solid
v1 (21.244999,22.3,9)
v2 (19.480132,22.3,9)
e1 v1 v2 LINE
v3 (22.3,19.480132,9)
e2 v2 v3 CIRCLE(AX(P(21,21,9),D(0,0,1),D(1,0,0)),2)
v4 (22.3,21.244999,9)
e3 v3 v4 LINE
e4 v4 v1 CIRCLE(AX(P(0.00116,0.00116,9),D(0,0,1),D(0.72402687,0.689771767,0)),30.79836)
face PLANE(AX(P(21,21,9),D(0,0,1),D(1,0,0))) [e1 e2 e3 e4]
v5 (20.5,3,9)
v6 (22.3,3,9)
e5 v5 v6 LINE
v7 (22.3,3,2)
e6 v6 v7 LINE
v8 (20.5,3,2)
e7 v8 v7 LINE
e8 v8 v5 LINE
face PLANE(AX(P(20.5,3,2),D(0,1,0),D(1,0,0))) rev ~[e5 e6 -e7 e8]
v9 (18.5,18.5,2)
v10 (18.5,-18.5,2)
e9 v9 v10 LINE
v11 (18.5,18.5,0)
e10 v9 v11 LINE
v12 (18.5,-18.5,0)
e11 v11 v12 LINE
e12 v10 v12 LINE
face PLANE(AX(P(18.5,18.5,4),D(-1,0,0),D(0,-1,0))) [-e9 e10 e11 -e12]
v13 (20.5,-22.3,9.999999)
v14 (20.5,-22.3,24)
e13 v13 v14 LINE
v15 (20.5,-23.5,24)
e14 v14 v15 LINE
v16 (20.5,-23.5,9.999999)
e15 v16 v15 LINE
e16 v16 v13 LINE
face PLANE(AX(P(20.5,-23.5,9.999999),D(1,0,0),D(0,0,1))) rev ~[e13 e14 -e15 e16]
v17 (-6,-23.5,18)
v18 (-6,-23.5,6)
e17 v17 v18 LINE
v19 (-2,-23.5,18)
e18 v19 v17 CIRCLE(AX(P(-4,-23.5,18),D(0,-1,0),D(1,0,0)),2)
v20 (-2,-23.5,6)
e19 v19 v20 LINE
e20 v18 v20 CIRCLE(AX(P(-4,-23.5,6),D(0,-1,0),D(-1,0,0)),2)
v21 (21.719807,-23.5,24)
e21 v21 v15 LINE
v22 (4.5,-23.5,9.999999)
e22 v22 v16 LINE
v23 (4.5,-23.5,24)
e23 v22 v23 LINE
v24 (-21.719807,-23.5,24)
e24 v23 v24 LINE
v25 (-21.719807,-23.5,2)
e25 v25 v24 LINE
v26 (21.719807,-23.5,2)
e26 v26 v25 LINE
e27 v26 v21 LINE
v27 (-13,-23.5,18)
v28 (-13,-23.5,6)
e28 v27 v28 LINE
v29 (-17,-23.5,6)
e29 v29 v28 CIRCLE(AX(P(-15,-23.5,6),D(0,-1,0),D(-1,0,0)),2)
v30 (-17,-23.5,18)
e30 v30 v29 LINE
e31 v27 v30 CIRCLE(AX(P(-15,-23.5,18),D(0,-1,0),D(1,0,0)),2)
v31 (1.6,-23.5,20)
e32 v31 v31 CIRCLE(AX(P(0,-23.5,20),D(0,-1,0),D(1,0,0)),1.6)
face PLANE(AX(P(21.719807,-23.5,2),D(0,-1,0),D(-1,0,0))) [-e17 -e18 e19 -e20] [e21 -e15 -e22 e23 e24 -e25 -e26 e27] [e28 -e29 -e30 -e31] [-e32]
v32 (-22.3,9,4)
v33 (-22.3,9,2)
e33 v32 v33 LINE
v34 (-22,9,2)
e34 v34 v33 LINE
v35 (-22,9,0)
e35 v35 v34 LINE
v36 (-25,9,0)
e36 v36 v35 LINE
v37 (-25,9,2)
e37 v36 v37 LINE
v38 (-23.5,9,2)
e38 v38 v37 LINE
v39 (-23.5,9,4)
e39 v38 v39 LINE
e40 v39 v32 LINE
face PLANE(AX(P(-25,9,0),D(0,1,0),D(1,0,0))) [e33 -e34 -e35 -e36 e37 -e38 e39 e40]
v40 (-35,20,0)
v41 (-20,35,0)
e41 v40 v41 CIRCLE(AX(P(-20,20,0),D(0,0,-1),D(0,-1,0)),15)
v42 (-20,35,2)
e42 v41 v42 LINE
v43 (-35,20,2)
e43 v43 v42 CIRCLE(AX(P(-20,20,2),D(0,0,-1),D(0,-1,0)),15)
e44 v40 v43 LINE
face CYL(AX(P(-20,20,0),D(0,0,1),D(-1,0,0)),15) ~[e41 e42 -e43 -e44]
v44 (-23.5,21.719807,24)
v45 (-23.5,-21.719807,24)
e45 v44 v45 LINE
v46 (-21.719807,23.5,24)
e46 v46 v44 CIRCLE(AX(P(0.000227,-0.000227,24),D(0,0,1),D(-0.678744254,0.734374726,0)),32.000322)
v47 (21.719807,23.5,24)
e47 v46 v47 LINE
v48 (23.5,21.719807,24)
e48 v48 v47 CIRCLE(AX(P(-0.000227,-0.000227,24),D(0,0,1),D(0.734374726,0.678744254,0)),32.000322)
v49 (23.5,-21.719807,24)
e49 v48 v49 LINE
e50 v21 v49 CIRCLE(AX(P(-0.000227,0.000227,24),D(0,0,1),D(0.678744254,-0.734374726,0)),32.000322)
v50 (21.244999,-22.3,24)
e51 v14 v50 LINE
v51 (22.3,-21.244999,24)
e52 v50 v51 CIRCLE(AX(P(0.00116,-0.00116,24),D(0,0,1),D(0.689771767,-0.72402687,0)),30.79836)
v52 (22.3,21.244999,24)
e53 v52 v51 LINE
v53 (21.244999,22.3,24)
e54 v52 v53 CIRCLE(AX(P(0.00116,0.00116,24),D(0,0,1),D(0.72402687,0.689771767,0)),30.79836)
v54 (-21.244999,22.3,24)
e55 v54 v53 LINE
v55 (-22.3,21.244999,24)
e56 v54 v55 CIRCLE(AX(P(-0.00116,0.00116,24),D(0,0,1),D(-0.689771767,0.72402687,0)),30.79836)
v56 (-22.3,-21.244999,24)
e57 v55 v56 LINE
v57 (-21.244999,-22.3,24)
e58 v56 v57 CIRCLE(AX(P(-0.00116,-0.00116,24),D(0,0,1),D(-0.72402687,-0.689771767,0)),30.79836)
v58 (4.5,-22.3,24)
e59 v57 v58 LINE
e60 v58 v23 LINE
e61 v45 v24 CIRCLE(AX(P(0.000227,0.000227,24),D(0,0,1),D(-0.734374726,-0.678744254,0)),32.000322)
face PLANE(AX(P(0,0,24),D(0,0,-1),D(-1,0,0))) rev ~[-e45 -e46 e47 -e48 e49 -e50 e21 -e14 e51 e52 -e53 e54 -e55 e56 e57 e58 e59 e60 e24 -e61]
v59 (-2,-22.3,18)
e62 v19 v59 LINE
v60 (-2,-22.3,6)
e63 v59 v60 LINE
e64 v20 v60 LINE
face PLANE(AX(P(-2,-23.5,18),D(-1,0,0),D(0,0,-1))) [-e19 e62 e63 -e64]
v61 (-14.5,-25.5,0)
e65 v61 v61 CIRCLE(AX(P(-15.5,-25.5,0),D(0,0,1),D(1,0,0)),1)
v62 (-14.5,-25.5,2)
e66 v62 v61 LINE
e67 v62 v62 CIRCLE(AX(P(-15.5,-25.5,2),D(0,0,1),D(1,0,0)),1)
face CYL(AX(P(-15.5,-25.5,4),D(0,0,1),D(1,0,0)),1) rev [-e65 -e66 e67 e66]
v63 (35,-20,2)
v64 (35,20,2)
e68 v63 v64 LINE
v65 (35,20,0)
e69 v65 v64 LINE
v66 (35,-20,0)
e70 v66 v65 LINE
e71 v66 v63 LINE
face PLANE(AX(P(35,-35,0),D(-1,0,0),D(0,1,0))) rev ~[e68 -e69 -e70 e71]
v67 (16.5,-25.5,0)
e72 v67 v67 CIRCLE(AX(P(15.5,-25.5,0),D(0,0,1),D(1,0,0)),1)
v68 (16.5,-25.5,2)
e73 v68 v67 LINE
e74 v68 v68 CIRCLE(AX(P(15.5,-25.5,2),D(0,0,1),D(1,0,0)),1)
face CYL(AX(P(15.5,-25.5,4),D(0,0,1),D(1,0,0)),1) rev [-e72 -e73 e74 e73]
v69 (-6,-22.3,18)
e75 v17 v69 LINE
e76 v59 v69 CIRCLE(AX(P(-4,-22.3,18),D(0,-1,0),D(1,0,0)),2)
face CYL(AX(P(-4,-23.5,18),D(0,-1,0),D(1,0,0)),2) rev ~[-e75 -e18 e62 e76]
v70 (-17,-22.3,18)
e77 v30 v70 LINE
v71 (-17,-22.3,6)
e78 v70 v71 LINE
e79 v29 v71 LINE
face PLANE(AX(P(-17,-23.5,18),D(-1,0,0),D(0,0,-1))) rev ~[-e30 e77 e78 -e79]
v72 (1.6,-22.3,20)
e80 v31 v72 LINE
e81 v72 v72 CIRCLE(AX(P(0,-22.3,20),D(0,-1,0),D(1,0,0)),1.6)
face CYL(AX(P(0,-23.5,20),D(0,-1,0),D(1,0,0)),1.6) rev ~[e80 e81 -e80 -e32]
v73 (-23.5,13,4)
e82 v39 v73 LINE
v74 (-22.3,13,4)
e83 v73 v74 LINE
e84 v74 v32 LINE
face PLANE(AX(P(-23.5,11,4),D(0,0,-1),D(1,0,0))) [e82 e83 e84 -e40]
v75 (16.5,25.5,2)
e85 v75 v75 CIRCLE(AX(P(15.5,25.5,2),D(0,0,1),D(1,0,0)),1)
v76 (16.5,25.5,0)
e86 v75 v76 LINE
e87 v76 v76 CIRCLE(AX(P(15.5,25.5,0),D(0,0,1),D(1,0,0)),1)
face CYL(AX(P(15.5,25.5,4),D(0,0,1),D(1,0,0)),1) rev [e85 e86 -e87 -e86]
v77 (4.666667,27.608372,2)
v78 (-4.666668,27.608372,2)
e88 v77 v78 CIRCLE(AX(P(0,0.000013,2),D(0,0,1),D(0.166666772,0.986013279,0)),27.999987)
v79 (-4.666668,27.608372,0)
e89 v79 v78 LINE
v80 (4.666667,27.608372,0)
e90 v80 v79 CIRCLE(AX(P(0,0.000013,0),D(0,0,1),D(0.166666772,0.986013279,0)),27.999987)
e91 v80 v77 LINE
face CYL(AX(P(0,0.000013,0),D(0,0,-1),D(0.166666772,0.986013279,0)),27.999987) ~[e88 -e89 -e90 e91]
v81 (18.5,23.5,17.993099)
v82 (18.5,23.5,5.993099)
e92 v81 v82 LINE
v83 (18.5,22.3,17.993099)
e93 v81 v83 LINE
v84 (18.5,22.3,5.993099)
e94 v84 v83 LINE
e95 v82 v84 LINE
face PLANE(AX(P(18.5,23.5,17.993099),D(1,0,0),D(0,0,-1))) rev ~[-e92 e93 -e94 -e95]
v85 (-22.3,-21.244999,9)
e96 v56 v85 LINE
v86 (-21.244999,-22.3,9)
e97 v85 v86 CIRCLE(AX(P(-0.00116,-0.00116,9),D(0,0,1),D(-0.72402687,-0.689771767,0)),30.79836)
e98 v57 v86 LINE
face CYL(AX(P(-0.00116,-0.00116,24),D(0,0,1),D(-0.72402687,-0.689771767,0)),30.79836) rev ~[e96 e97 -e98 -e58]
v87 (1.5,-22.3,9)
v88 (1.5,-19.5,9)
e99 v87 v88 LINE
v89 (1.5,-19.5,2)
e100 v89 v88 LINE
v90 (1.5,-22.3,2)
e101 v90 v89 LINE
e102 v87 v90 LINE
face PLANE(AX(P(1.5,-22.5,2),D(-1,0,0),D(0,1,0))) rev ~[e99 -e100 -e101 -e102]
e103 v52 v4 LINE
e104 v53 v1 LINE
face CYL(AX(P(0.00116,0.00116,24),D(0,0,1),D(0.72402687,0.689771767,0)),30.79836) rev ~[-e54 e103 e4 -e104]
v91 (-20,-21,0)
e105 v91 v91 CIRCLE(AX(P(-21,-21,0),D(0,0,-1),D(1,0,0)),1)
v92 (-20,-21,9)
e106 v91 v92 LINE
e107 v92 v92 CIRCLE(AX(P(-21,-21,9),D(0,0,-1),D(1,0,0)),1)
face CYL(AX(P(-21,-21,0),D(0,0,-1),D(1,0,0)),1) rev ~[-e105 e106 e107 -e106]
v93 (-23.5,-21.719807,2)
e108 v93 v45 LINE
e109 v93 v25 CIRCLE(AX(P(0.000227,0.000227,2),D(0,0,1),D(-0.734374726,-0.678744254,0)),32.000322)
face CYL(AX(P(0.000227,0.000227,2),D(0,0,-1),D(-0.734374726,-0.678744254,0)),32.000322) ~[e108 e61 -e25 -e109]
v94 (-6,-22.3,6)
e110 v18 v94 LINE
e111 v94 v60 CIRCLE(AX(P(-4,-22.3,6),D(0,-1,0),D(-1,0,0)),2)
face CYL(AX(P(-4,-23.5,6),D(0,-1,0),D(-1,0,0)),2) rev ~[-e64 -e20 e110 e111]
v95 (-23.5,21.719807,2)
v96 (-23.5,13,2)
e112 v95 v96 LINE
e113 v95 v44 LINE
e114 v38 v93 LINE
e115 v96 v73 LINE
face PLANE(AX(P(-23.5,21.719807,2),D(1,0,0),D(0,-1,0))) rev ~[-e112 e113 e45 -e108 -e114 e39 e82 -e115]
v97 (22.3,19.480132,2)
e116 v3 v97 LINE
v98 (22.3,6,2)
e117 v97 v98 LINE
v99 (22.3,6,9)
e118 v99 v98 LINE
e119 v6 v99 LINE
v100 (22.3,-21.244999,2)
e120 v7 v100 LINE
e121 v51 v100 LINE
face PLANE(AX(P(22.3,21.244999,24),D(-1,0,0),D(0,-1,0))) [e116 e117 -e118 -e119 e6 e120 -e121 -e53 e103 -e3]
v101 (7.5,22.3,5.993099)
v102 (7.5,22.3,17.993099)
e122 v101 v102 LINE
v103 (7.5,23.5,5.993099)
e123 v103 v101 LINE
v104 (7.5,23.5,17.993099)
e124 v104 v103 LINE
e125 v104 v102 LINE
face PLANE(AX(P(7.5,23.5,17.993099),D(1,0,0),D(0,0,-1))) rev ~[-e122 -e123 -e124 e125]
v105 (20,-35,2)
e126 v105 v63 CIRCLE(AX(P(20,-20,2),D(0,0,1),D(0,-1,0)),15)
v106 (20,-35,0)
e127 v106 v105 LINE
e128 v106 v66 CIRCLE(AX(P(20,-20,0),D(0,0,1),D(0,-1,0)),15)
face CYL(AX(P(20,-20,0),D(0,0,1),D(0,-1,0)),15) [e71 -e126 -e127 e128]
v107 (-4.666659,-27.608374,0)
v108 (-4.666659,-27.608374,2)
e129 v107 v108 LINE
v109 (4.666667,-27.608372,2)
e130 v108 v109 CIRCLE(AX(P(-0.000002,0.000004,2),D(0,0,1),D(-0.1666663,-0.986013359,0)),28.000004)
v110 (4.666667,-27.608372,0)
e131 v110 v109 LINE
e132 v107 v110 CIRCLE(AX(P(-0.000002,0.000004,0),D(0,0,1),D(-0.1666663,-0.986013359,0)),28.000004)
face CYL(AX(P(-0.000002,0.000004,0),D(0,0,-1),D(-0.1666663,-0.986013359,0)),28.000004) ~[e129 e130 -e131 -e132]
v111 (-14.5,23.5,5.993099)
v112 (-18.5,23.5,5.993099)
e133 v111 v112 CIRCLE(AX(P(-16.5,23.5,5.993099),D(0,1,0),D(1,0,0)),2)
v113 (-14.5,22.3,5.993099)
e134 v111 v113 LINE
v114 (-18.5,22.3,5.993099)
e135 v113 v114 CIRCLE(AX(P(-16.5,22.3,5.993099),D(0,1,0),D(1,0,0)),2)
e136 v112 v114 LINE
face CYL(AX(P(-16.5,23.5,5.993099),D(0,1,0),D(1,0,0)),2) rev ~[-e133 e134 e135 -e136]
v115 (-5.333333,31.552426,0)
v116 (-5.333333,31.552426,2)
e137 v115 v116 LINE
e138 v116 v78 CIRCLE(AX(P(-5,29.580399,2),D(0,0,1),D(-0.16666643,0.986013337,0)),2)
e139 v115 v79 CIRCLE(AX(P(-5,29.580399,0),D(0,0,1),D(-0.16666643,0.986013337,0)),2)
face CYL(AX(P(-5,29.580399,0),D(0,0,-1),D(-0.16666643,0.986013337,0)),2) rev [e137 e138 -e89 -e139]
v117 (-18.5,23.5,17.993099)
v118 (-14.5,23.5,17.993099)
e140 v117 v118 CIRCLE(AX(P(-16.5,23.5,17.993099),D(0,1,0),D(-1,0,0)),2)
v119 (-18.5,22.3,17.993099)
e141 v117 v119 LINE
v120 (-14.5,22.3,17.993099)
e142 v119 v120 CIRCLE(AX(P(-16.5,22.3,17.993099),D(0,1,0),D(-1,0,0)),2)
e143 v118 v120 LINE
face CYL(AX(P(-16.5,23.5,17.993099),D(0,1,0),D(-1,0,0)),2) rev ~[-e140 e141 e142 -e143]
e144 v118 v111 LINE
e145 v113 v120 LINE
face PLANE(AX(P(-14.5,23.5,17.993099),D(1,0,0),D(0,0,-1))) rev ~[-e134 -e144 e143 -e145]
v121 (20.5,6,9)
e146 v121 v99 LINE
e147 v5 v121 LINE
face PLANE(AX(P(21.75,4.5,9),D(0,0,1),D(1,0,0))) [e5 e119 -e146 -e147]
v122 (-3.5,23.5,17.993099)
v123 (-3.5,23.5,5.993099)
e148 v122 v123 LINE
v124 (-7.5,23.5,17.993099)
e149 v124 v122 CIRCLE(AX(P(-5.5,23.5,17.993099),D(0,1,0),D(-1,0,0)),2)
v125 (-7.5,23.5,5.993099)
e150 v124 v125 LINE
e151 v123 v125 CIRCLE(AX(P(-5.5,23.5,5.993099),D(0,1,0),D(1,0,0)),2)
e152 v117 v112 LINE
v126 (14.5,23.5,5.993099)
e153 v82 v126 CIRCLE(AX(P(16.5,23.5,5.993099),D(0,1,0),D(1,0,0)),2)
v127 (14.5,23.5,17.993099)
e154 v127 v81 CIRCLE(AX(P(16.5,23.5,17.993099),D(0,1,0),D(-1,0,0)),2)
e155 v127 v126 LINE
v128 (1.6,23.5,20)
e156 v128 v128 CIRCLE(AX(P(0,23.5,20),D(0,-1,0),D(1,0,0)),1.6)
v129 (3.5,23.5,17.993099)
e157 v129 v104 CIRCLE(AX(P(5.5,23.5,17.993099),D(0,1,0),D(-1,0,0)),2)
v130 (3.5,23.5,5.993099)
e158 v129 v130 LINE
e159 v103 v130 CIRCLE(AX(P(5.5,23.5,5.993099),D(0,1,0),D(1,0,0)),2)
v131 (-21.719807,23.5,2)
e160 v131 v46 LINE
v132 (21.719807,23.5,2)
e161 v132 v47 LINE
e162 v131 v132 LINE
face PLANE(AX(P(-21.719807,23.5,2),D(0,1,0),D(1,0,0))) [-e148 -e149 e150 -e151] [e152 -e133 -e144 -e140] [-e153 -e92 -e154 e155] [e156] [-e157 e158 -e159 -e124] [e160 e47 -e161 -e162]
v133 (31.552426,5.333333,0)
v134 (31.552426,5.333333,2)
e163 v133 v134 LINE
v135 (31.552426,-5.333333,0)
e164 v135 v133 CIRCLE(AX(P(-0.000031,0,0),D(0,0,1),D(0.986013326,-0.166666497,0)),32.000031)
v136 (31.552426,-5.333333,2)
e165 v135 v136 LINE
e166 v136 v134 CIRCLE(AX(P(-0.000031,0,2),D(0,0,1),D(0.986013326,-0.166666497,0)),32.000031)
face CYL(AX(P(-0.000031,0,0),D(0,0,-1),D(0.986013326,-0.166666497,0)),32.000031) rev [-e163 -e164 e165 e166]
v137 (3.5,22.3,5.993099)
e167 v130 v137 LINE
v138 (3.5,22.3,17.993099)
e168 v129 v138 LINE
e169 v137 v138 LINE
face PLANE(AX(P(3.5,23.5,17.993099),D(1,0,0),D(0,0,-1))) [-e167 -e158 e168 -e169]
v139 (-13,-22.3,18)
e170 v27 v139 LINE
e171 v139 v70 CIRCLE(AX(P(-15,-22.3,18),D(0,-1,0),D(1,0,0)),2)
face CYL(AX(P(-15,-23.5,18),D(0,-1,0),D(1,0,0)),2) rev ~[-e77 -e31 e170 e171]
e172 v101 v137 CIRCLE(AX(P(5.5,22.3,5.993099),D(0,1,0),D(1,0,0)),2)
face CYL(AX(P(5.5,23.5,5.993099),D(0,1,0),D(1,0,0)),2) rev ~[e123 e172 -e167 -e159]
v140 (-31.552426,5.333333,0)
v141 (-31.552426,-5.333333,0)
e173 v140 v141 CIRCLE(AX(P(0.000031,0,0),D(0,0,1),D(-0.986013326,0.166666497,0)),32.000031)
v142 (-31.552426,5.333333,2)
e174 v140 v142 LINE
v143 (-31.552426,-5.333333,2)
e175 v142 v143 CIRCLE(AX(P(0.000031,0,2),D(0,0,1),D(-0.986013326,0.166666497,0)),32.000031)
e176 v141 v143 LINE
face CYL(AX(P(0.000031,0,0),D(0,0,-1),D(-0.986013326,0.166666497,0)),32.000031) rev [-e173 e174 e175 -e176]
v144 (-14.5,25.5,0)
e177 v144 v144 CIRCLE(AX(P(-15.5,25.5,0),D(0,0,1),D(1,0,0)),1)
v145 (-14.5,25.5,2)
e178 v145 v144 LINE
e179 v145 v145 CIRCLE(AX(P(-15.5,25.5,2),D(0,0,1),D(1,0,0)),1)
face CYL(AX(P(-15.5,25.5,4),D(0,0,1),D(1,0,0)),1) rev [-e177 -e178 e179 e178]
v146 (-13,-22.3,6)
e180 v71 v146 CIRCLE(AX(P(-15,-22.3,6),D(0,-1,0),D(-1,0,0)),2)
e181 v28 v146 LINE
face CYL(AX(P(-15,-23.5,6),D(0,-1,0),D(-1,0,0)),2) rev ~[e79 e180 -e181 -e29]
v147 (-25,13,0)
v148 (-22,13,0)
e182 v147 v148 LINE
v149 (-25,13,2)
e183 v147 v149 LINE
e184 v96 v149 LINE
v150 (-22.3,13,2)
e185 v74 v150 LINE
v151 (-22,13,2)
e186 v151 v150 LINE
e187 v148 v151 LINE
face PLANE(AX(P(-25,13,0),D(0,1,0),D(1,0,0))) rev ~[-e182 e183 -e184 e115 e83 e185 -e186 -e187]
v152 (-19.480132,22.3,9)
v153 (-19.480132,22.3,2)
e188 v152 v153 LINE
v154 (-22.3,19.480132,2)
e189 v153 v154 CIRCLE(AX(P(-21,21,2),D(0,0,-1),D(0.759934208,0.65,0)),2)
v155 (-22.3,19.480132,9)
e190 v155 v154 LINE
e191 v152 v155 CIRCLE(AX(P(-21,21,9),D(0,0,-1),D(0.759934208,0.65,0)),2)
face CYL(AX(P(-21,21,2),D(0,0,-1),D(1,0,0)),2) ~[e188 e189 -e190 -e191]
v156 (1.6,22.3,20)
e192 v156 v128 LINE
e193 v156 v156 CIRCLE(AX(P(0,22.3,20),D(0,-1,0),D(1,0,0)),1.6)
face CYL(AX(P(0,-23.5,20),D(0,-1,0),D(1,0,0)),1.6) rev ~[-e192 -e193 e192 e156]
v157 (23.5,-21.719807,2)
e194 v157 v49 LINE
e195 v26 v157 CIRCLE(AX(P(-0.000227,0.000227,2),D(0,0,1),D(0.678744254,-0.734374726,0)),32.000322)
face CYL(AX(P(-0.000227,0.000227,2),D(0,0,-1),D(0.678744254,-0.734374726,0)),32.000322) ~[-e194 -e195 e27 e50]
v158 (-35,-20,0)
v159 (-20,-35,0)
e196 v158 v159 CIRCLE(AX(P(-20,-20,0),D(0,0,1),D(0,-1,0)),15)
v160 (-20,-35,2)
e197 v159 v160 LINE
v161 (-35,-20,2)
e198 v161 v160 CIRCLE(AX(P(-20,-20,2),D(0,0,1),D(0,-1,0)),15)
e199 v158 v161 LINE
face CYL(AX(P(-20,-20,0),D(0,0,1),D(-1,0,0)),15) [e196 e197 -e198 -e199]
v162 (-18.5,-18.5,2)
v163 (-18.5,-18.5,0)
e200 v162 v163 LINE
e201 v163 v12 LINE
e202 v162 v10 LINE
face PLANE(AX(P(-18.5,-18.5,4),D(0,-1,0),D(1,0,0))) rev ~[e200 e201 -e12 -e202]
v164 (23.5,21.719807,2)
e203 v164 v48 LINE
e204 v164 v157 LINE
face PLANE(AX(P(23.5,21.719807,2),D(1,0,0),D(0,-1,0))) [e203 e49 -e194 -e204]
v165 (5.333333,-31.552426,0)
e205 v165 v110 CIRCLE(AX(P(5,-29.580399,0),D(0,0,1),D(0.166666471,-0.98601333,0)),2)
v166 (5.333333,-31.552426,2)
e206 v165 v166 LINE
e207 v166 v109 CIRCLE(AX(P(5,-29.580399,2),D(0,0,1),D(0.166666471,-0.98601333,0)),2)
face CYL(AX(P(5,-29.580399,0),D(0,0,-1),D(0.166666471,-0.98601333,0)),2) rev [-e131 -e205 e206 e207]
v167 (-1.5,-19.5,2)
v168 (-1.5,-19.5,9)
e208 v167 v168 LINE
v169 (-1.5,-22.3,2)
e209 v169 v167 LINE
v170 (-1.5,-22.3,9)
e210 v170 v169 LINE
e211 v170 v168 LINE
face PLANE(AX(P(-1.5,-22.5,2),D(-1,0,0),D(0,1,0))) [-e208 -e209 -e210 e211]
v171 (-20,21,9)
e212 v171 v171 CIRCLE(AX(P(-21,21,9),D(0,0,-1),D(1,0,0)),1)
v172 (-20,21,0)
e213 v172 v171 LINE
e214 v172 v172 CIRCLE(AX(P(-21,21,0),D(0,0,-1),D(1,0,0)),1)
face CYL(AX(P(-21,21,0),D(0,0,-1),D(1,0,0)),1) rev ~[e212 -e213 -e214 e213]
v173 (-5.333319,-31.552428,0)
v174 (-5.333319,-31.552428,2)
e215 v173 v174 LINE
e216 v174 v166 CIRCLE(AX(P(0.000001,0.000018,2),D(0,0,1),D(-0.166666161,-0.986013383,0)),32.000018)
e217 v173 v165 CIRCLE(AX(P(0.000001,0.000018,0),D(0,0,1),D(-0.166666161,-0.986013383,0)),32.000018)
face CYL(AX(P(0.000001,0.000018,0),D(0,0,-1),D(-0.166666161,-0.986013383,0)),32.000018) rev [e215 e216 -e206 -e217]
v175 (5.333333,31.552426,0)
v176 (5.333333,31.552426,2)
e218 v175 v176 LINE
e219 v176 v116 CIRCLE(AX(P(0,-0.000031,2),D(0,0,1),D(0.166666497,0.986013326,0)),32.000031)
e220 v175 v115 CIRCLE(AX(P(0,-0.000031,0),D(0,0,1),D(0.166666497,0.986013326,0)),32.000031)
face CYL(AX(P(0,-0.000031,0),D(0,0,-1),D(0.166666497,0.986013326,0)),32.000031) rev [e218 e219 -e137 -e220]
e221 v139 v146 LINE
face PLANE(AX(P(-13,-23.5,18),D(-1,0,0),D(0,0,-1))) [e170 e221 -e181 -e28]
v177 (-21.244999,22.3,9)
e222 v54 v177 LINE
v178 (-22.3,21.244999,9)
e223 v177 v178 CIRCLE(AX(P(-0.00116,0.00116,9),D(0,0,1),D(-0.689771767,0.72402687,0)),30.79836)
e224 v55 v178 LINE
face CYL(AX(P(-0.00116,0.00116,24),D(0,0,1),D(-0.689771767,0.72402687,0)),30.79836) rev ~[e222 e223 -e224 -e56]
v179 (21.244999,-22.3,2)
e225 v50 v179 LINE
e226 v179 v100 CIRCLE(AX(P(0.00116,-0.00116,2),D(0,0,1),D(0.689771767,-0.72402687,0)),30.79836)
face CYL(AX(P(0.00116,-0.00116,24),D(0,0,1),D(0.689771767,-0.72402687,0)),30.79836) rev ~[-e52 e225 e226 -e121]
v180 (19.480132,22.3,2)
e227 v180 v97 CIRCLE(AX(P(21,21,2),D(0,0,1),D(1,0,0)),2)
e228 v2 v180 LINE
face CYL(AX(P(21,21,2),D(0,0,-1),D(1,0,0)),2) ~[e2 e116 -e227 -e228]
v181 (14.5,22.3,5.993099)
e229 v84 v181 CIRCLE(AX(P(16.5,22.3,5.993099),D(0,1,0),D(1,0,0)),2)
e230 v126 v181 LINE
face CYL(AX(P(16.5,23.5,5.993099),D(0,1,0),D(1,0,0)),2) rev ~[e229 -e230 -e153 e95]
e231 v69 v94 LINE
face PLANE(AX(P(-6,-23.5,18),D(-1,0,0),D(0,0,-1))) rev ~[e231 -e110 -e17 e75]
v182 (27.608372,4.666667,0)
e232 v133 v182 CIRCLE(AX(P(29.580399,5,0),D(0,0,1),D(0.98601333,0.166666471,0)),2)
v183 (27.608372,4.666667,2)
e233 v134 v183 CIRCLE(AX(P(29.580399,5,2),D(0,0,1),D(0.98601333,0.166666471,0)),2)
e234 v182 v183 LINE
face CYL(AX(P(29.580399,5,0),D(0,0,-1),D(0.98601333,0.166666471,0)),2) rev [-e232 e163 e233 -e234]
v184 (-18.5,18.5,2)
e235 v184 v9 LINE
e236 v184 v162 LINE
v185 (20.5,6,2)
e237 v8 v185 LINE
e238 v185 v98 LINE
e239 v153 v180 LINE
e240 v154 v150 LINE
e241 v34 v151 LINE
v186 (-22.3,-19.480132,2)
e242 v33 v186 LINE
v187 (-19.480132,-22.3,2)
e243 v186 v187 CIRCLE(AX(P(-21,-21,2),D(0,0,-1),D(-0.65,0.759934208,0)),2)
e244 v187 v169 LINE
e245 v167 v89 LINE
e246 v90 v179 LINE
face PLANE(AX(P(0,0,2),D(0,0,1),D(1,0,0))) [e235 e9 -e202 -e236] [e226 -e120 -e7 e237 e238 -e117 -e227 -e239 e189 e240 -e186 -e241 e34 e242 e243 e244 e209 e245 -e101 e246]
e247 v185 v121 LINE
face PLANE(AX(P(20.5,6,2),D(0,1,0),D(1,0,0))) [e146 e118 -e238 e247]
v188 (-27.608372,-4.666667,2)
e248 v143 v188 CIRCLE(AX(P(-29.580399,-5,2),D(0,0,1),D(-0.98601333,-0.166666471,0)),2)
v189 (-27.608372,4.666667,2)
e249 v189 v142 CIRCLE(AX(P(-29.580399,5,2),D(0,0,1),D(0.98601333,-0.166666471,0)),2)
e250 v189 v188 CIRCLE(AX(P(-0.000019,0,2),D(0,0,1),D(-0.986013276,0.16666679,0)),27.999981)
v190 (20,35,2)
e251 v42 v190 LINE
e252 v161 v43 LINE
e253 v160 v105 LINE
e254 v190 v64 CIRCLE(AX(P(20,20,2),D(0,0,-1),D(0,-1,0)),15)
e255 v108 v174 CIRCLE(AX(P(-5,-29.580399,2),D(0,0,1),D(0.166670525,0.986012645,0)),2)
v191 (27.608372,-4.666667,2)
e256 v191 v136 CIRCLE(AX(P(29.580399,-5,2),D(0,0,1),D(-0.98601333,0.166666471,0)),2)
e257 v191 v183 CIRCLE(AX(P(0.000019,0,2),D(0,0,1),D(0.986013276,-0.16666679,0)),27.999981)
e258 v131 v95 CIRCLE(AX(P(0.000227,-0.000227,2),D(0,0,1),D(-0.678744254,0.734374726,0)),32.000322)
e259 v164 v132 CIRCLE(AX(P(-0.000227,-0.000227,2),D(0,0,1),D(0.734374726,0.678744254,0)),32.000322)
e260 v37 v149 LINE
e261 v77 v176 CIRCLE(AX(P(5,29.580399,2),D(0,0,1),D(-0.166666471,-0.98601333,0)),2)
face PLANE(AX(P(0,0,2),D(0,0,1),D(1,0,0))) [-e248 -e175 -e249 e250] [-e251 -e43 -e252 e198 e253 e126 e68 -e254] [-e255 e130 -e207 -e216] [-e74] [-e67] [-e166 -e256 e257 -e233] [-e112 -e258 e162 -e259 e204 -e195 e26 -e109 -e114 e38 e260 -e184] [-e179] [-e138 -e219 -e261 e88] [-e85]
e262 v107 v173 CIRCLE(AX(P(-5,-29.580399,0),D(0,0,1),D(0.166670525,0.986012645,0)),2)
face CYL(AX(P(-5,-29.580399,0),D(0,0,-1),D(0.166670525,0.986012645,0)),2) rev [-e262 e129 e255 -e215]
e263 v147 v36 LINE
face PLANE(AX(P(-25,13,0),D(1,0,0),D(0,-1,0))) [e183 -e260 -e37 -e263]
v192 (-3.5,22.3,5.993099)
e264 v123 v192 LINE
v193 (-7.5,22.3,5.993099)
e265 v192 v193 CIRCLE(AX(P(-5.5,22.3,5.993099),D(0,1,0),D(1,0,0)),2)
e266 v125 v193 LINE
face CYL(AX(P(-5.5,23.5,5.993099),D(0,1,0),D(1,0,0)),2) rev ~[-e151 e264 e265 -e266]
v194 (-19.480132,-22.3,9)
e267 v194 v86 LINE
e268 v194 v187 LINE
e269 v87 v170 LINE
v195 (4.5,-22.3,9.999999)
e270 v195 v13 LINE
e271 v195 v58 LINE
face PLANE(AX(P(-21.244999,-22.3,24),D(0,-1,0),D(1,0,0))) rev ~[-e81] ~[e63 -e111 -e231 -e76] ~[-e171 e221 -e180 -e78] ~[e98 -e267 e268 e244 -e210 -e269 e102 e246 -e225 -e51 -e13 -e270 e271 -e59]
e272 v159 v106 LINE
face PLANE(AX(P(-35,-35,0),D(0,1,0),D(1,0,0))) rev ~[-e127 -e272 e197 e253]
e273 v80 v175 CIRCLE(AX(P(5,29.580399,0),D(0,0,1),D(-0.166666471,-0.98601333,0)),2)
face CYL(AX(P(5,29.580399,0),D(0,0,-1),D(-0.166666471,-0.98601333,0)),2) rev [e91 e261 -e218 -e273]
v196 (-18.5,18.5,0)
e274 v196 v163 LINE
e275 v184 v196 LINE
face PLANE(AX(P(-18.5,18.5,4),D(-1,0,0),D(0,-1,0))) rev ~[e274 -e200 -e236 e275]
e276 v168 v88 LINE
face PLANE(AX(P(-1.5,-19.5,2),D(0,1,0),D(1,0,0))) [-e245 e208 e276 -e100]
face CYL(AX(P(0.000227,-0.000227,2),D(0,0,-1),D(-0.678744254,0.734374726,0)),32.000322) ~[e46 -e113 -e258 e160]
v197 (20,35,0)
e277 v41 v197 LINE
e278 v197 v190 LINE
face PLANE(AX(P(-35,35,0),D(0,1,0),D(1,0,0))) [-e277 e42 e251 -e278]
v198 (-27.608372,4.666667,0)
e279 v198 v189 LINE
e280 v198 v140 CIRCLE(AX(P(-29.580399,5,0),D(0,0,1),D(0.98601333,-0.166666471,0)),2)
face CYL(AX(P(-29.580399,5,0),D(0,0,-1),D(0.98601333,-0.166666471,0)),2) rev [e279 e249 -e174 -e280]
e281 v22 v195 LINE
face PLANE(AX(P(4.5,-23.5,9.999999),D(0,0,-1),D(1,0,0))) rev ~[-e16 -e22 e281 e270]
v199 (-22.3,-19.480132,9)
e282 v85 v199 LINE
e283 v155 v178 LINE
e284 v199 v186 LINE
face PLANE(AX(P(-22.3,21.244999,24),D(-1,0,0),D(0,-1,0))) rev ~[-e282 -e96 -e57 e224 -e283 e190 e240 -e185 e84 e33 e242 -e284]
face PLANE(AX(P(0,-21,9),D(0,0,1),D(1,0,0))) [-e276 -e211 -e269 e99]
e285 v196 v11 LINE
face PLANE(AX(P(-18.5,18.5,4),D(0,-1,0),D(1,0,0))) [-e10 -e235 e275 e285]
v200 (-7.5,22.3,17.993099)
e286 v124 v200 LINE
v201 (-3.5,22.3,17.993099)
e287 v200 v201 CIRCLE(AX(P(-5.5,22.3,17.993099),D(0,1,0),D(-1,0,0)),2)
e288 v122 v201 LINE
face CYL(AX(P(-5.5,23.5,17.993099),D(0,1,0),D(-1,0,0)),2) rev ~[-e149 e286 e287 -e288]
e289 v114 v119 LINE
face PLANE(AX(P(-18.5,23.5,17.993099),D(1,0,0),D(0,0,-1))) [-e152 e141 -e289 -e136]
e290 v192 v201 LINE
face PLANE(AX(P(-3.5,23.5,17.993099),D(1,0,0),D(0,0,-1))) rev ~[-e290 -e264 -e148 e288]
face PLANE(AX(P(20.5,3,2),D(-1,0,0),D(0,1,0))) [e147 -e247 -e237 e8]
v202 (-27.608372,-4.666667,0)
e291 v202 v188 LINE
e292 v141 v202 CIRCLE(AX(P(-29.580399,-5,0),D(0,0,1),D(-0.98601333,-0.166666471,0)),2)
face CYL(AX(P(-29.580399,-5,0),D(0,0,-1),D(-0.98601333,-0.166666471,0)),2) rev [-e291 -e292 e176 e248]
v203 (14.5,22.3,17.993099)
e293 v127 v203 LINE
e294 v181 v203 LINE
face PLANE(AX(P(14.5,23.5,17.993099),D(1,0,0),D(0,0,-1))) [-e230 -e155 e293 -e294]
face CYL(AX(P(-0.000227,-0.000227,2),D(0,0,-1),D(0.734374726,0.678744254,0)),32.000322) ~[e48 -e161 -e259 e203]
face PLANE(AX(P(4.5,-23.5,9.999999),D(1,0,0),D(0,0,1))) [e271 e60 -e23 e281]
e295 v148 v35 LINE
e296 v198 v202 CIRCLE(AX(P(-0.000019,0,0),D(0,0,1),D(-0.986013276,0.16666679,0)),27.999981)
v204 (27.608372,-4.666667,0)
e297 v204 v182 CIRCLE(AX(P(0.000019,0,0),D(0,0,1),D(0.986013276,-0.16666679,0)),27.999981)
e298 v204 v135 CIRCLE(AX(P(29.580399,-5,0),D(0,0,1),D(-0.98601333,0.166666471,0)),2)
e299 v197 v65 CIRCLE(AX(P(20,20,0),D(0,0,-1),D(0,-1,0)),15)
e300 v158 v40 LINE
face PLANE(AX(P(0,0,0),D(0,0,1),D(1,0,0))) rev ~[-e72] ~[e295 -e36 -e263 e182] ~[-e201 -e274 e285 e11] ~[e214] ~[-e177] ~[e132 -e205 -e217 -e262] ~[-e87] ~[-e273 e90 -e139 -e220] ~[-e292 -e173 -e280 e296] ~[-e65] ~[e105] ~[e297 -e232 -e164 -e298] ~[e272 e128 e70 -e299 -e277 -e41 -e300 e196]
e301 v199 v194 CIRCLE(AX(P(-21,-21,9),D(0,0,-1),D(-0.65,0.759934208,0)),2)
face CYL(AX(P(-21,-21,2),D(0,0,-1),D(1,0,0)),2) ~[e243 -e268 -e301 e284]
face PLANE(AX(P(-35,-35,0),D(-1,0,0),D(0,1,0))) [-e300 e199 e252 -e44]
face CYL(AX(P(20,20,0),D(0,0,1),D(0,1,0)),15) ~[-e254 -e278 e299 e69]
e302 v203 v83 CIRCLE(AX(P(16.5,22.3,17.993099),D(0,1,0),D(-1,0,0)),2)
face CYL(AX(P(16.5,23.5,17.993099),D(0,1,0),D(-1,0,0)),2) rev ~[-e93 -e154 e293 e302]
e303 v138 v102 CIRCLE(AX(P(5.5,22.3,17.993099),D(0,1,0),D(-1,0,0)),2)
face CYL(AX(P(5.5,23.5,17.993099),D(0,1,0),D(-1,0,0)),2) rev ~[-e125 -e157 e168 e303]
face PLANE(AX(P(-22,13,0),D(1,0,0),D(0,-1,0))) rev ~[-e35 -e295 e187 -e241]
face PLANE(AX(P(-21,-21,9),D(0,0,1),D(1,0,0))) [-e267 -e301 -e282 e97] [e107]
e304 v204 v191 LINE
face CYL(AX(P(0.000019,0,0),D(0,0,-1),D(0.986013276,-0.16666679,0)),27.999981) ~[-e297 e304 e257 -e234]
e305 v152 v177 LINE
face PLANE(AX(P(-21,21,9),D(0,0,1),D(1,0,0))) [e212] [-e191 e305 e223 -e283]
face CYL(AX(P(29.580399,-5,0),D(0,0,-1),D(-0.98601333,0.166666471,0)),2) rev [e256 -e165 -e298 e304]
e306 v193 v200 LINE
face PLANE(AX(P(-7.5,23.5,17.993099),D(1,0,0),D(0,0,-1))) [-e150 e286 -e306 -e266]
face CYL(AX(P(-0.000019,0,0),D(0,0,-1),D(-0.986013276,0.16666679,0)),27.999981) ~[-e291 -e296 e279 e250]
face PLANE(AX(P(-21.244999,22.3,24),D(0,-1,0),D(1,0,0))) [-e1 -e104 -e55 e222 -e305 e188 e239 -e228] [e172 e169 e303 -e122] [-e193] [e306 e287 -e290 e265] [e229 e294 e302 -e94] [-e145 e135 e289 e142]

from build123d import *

# Parameters (mm, degrees)
SKETCH_W        = 70
SKETCH_H        = 70
PAD_DEPTH       = 2
PAD001_DEPTH    = 22
POCKET_DEPTH    = 22
SKETCH003_W     = 16
SKETCH003_H     = 23.864653
POCKET001_DEPTH = 18
SKETCH009_R     = 1.6
POCKET005_DEPTH = 58.501
SKETCH010_R     = 2
SKETCH010_W     = 2.5
SKETCH010_H     = 3
SKETCH010_W_2   = 3
PAD004_DEPTH    = 7
POCKET006_DEPTH = 5
POCKET007_DEPTH = 2
FILLET_R        = 15
SKETCH014_W     = 3
SKETCH014_H     = 4
POCKET009_DEPTH = 4
SKETCH015_R     = 1
POCKET010_DEPTH = 24.001
SKETCH016_R     = 1
SKETCH016_W     = 37
SKETCH016_H     = 37
POCKET011_DEPTH = 5


with BuildPart() as part:
    # Sketch → Pad (new body)
    with BuildSketch(Plane.XY):
        Rectangle(SKETCH_W, SKETCH_H)
        with BuildLine():
            ThreePointArc((27.608372, -4.666667), (28, 0), (27.608372, 4.666667))
            ThreePointArc((31.552426, 5.333333), (29.247066, 6.972027), (27.608372, 4.666667))
            ThreePointArc((31.552426, -5.333333), (32, 0), (31.552426, 5.333333))
            ThreePointArc((27.608372, -4.666667), (29.247066, -6.972027), (31.552426, -5.333333))
        make_face(mode=Mode.SUBTRACT)
        with BuildLine():
            ThreePointArc((-27.608372, 4.666667), (-28, 0), (-27.608372, -4.666667))
            ThreePointArc((-31.552426, -5.333333), (-29.247066, -6.972027), (-27.608372, -4.666667))
            ThreePointArc((-31.552426, 5.333333), (-32, 0), (-31.552426, -5.333333))
            ThreePointArc((-27.608372, 4.666667), (-29.247066, 6.972027), (-31.552426, 5.333333))
        make_face(mode=Mode.SUBTRACT)
        with BuildLine():
            ThreePointArc((4.666667, 27.608372), (-1e-06, 28), (-4.666668, 27.608372))
            ThreePointArc((-5.333333, 31.552426), (-6.972027, 29.247066), (-4.666668, 27.608372))
            ThreePointArc((5.333333, 31.552426), (0, 32), (-5.333333, 31.552426))
            ThreePointArc((4.666667, 27.608372), (6.972027, 29.247066), (5.333333, 31.552426))
        make_face(mode=Mode.SUBTRACT)
        with BuildLine():
            ThreePointArc((-4.666659, -27.608374), (4e-06, -28), (4.666667, -27.608372))
            ThreePointArc((5.333333, -31.552426), (6.972027, -29.247066), (4.666667, -27.608372))
            ThreePointArc((-5.333319, -31.552428), (7e-06, -32), (5.333333, -31.552426))
            ThreePointArc((-4.666659, -27.608374), (-6.972027, -29.247069), (-5.333319, -31.552428))
        make_face(mode=Mode.SUBTRACT)
    extrude(amount=PAD_DEPTH)

    # Sketch001 (on Face22 of Pad) → Pad001 (join)
    with BuildSketch(Plane.XY.offset(2)):
        with BuildLine():
            Line((21.719807, -23.5), (-21.719807, -23.5))
            ThreePointArc((-23.5, -21.719807), (-22.627417, -22.627417), (-21.719807, -23.5))
            Line((-23.5, 21.719807), (-23.5, -21.719807))
            ThreePointArc((-21.719807, 23.5), (-22.627417, 22.627417), (-23.5, 21.719807))
            Line((-21.719807, 23.5), (21.719807, 23.5))
            ThreePointArc((23.5, 21.719807), (22.627417, 22.627417), (21.719807, 23.5))
            Line((23.5, 21.719807), (23.5, -21.719807))
            ThreePointArc((21.719807, -23.5), (22.627417, -22.627417), (23.5, -21.719807))
        make_face()
    extrude(amount=PAD001_DEPTH)

    # Sketch002 (on Face31 of Pad001) → Pocket (cut)
    with BuildSketch(Plane.XY.offset(24)):
        with BuildLine():
            Line((-22.3, 21.244999), (-22.3, -21.244999))
            ThreePointArc((-22.3, -21.244999), (-21.778889, -21.778889), (-21.244999, -22.3))
            Line((-21.244999, -22.3), (21.244999, -22.3))
            ThreePointArc((21.244999, -22.3), (21.778889, -21.778889), (22.3, -21.244999))
            Line((22.3, 21.244999), (22.3, -21.244999))
            ThreePointArc((22.3, 21.244999), (21.778889, 21.778889), (21.244999, 22.3))
            Line((-21.244999, 22.3), (21.244999, 22.3))
            ThreePointArc((-21.244999, 22.3), (-21.778889, 21.778889), (-22.3, 21.244999))
        make_face()
    extrude(amount=-POCKET_DEPTH, mode=Mode.SUBTRACT)

    # Sketch003 (on Face30 of Pocket) → Pocket001 (cut)
    with BuildSketch(Plane.XZ.offset(23.5)):
        with Locations((12.5, 21.932326)):
            Rectangle(SKETCH003_W, SKETCH003_H)
    extrude(amount=-POCKET001_DEPTH, mode=Mode.SUBTRACT)

    # Sketch009 → Pocket005 (cut, through all)
    with BuildSketch(Plane.XZ.offset(23.5)):
        with Locations((0, 20)):
            Circle(SKETCH009_R)
    extrude(amount=-POCKET005_DEPTH, mode=Mode.SUBTRACT)

    # Sketch010 (on Face45 of Pocket005) → Pad004 (join)
    with BuildSketch(Plane.XY.offset(2)):
        with Locations((21, 21)):
            Circle(SKETCH010_R)
        with Locations((-21, 21)):
            Circle(SKETCH010_R)
        with Locations((-21, -21)):
            Circle(SKETCH010_R)
        with Locations((21.75, 4.5)):
            Rectangle(SKETCH010_W, SKETCH010_H)
        with Locations((0, -21)):
            Rectangle(SKETCH010_W_2, SKETCH010_H)
    extrude(amount=PAD004_DEPTH)

    # Sketch011 (on Face26 of Pad004) → Pocket006 (cut)
    with BuildSketch(Plane(origin=(0, 23.5, 0), x_dir=(-1, 0, 0), z_dir=(0, 1, 0))):
        with BuildLine():
            Line((-18.5, 17.993099), (-18.5, 5.993099))
            ThreePointArc((-18.5, 5.993099), (-16.5, 3.993099), (-14.5, 5.993099))
            Line((-14.5, 17.993099), (-14.5, 5.993099))
            ThreePointArc((-14.5, 17.993099), (-16.5, 19.993099), (-18.5, 17.993099))
        make_face()
        with BuildLine():
            Line((-7.5, 17.993099), (-7.5, 5.993099))
            ThreePointArc((-7.5, 5.993099), (-5.5, 3.993099), (-3.5, 5.993099))
            Line((-3.5, 17.993099), (-3.5, 5.993099))
            ThreePointArc((-3.5, 17.993099), (-5.5, 19.993099), (-7.5, 17.993099))
        make_face()
        with BuildLine():
            Line((3.5, 17.993099), (3.5, 5.993099))
            ThreePointArc((3.5, 5.993099), (5.5, 3.993099), (7.5, 5.993099))
            Line((7.5, 17.993099), (7.5, 5.993099))
            ThreePointArc((7.5, 17.993099), (5.5, 19.993099), (3.5, 17.993099))
        make_face()
        with BuildLine():
            Line((14.5, 17.993099), (14.5, 5.993099))
            ThreePointArc((14.5, 5.993099), (16.5, 3.993099), (18.5, 5.993099))
            Line((18.5, 17.993099), (18.5, 5.993099))
            ThreePointArc((18.5, 17.993099), (16.5, 19.993099), (14.5, 17.993099))
        make_face()
    extrude(amount=-POCKET006_DEPTH, mode=Mode.SUBTRACT)

    # Sketch012 (on Face30 of Pocket006) → Pocket007 (cut)
    with BuildSketch(Plane.XZ.offset(23.5)):
        with BuildLine():
            Line((-17, 18), (-17, 6))
            ThreePointArc((-17, 6), (-15, 4), (-13, 6))
            Line((-13, 18), (-13, 6))
            ThreePointArc((-13, 18), (-15, 20), (-17, 18))
        make_face()
        with BuildLine():
            Line((-6, 18), (-6, 6))
            ThreePointArc((-6, 6), (-4, 4), (-2, 6))
            Line((-2, 18), (-2, 6))
            ThreePointArc((-2, 18), (-4, 20), (-6, 18))
        make_face()
    extrude(amount=-POCKET007_DEPTH, mode=Mode.SUBTRACT)

    # Fillet
    fillet_edges = [part.edges().sort_by_distance(p)[0] for p in [
        (-35, -35, 1),
        (-35, 35, 1),
        (35, -35, 1),
        (35, 35, 1),
    ]]
    fillet(fillet_edges, radius=FILLET_R)

    # Sketch014 (on Face2 of Fillet) → Pocket009 (cut)
    with BuildSketch(Plane(origin=(0, 0, 0), x_dir=(1, 0, 0), z_dir=(0, 0, -1))):
        with Locations((-23.5, -11)):
            Rectangle(SKETCH014_W, SKETCH014_H)
    extrude(amount=-POCKET009_DEPTH, mode=Mode.SUBTRACT)

    # Sketch015 (on Face2 of Pocket009) → Pocket010 (cut, through all)
    with BuildSketch(Plane(origin=(0, 0, 0), x_dir=(1, 0, 0), z_dir=(0, 0, -1))):
        with Locations((-21, 21)):
            Circle(SKETCH015_R)
        with Locations((-21, -21)):
            Circle(SKETCH015_R)
    extrude(amount=-POCKET010_DEPTH, mode=Mode.SUBTRACT)

    # Sketch016 (on Face44 of Pocket010) → Pocket011 (cut)
    with BuildSketch(Plane(origin=(0, 0, 4), x_dir=(1, 0, 0), z_dir=(0, 0, -1))):
        with Locations((15.5, 25.5)):
            Circle(SKETCH016_R)
        with Locations((-15.5, 25.5)):
            Circle(SKETCH016_R)
        with Locations((-15.5, -25.5)):
            Circle(SKETCH016_R)
        with Locations((15.5, -25.5)):
            Circle(SKETCH016_R)
        Rectangle(SKETCH016_W, SKETCH016_H)
    extrude(amount=POCKET011_DEPTH, mode=Mode.SUBTRACT)


solid = part.part
